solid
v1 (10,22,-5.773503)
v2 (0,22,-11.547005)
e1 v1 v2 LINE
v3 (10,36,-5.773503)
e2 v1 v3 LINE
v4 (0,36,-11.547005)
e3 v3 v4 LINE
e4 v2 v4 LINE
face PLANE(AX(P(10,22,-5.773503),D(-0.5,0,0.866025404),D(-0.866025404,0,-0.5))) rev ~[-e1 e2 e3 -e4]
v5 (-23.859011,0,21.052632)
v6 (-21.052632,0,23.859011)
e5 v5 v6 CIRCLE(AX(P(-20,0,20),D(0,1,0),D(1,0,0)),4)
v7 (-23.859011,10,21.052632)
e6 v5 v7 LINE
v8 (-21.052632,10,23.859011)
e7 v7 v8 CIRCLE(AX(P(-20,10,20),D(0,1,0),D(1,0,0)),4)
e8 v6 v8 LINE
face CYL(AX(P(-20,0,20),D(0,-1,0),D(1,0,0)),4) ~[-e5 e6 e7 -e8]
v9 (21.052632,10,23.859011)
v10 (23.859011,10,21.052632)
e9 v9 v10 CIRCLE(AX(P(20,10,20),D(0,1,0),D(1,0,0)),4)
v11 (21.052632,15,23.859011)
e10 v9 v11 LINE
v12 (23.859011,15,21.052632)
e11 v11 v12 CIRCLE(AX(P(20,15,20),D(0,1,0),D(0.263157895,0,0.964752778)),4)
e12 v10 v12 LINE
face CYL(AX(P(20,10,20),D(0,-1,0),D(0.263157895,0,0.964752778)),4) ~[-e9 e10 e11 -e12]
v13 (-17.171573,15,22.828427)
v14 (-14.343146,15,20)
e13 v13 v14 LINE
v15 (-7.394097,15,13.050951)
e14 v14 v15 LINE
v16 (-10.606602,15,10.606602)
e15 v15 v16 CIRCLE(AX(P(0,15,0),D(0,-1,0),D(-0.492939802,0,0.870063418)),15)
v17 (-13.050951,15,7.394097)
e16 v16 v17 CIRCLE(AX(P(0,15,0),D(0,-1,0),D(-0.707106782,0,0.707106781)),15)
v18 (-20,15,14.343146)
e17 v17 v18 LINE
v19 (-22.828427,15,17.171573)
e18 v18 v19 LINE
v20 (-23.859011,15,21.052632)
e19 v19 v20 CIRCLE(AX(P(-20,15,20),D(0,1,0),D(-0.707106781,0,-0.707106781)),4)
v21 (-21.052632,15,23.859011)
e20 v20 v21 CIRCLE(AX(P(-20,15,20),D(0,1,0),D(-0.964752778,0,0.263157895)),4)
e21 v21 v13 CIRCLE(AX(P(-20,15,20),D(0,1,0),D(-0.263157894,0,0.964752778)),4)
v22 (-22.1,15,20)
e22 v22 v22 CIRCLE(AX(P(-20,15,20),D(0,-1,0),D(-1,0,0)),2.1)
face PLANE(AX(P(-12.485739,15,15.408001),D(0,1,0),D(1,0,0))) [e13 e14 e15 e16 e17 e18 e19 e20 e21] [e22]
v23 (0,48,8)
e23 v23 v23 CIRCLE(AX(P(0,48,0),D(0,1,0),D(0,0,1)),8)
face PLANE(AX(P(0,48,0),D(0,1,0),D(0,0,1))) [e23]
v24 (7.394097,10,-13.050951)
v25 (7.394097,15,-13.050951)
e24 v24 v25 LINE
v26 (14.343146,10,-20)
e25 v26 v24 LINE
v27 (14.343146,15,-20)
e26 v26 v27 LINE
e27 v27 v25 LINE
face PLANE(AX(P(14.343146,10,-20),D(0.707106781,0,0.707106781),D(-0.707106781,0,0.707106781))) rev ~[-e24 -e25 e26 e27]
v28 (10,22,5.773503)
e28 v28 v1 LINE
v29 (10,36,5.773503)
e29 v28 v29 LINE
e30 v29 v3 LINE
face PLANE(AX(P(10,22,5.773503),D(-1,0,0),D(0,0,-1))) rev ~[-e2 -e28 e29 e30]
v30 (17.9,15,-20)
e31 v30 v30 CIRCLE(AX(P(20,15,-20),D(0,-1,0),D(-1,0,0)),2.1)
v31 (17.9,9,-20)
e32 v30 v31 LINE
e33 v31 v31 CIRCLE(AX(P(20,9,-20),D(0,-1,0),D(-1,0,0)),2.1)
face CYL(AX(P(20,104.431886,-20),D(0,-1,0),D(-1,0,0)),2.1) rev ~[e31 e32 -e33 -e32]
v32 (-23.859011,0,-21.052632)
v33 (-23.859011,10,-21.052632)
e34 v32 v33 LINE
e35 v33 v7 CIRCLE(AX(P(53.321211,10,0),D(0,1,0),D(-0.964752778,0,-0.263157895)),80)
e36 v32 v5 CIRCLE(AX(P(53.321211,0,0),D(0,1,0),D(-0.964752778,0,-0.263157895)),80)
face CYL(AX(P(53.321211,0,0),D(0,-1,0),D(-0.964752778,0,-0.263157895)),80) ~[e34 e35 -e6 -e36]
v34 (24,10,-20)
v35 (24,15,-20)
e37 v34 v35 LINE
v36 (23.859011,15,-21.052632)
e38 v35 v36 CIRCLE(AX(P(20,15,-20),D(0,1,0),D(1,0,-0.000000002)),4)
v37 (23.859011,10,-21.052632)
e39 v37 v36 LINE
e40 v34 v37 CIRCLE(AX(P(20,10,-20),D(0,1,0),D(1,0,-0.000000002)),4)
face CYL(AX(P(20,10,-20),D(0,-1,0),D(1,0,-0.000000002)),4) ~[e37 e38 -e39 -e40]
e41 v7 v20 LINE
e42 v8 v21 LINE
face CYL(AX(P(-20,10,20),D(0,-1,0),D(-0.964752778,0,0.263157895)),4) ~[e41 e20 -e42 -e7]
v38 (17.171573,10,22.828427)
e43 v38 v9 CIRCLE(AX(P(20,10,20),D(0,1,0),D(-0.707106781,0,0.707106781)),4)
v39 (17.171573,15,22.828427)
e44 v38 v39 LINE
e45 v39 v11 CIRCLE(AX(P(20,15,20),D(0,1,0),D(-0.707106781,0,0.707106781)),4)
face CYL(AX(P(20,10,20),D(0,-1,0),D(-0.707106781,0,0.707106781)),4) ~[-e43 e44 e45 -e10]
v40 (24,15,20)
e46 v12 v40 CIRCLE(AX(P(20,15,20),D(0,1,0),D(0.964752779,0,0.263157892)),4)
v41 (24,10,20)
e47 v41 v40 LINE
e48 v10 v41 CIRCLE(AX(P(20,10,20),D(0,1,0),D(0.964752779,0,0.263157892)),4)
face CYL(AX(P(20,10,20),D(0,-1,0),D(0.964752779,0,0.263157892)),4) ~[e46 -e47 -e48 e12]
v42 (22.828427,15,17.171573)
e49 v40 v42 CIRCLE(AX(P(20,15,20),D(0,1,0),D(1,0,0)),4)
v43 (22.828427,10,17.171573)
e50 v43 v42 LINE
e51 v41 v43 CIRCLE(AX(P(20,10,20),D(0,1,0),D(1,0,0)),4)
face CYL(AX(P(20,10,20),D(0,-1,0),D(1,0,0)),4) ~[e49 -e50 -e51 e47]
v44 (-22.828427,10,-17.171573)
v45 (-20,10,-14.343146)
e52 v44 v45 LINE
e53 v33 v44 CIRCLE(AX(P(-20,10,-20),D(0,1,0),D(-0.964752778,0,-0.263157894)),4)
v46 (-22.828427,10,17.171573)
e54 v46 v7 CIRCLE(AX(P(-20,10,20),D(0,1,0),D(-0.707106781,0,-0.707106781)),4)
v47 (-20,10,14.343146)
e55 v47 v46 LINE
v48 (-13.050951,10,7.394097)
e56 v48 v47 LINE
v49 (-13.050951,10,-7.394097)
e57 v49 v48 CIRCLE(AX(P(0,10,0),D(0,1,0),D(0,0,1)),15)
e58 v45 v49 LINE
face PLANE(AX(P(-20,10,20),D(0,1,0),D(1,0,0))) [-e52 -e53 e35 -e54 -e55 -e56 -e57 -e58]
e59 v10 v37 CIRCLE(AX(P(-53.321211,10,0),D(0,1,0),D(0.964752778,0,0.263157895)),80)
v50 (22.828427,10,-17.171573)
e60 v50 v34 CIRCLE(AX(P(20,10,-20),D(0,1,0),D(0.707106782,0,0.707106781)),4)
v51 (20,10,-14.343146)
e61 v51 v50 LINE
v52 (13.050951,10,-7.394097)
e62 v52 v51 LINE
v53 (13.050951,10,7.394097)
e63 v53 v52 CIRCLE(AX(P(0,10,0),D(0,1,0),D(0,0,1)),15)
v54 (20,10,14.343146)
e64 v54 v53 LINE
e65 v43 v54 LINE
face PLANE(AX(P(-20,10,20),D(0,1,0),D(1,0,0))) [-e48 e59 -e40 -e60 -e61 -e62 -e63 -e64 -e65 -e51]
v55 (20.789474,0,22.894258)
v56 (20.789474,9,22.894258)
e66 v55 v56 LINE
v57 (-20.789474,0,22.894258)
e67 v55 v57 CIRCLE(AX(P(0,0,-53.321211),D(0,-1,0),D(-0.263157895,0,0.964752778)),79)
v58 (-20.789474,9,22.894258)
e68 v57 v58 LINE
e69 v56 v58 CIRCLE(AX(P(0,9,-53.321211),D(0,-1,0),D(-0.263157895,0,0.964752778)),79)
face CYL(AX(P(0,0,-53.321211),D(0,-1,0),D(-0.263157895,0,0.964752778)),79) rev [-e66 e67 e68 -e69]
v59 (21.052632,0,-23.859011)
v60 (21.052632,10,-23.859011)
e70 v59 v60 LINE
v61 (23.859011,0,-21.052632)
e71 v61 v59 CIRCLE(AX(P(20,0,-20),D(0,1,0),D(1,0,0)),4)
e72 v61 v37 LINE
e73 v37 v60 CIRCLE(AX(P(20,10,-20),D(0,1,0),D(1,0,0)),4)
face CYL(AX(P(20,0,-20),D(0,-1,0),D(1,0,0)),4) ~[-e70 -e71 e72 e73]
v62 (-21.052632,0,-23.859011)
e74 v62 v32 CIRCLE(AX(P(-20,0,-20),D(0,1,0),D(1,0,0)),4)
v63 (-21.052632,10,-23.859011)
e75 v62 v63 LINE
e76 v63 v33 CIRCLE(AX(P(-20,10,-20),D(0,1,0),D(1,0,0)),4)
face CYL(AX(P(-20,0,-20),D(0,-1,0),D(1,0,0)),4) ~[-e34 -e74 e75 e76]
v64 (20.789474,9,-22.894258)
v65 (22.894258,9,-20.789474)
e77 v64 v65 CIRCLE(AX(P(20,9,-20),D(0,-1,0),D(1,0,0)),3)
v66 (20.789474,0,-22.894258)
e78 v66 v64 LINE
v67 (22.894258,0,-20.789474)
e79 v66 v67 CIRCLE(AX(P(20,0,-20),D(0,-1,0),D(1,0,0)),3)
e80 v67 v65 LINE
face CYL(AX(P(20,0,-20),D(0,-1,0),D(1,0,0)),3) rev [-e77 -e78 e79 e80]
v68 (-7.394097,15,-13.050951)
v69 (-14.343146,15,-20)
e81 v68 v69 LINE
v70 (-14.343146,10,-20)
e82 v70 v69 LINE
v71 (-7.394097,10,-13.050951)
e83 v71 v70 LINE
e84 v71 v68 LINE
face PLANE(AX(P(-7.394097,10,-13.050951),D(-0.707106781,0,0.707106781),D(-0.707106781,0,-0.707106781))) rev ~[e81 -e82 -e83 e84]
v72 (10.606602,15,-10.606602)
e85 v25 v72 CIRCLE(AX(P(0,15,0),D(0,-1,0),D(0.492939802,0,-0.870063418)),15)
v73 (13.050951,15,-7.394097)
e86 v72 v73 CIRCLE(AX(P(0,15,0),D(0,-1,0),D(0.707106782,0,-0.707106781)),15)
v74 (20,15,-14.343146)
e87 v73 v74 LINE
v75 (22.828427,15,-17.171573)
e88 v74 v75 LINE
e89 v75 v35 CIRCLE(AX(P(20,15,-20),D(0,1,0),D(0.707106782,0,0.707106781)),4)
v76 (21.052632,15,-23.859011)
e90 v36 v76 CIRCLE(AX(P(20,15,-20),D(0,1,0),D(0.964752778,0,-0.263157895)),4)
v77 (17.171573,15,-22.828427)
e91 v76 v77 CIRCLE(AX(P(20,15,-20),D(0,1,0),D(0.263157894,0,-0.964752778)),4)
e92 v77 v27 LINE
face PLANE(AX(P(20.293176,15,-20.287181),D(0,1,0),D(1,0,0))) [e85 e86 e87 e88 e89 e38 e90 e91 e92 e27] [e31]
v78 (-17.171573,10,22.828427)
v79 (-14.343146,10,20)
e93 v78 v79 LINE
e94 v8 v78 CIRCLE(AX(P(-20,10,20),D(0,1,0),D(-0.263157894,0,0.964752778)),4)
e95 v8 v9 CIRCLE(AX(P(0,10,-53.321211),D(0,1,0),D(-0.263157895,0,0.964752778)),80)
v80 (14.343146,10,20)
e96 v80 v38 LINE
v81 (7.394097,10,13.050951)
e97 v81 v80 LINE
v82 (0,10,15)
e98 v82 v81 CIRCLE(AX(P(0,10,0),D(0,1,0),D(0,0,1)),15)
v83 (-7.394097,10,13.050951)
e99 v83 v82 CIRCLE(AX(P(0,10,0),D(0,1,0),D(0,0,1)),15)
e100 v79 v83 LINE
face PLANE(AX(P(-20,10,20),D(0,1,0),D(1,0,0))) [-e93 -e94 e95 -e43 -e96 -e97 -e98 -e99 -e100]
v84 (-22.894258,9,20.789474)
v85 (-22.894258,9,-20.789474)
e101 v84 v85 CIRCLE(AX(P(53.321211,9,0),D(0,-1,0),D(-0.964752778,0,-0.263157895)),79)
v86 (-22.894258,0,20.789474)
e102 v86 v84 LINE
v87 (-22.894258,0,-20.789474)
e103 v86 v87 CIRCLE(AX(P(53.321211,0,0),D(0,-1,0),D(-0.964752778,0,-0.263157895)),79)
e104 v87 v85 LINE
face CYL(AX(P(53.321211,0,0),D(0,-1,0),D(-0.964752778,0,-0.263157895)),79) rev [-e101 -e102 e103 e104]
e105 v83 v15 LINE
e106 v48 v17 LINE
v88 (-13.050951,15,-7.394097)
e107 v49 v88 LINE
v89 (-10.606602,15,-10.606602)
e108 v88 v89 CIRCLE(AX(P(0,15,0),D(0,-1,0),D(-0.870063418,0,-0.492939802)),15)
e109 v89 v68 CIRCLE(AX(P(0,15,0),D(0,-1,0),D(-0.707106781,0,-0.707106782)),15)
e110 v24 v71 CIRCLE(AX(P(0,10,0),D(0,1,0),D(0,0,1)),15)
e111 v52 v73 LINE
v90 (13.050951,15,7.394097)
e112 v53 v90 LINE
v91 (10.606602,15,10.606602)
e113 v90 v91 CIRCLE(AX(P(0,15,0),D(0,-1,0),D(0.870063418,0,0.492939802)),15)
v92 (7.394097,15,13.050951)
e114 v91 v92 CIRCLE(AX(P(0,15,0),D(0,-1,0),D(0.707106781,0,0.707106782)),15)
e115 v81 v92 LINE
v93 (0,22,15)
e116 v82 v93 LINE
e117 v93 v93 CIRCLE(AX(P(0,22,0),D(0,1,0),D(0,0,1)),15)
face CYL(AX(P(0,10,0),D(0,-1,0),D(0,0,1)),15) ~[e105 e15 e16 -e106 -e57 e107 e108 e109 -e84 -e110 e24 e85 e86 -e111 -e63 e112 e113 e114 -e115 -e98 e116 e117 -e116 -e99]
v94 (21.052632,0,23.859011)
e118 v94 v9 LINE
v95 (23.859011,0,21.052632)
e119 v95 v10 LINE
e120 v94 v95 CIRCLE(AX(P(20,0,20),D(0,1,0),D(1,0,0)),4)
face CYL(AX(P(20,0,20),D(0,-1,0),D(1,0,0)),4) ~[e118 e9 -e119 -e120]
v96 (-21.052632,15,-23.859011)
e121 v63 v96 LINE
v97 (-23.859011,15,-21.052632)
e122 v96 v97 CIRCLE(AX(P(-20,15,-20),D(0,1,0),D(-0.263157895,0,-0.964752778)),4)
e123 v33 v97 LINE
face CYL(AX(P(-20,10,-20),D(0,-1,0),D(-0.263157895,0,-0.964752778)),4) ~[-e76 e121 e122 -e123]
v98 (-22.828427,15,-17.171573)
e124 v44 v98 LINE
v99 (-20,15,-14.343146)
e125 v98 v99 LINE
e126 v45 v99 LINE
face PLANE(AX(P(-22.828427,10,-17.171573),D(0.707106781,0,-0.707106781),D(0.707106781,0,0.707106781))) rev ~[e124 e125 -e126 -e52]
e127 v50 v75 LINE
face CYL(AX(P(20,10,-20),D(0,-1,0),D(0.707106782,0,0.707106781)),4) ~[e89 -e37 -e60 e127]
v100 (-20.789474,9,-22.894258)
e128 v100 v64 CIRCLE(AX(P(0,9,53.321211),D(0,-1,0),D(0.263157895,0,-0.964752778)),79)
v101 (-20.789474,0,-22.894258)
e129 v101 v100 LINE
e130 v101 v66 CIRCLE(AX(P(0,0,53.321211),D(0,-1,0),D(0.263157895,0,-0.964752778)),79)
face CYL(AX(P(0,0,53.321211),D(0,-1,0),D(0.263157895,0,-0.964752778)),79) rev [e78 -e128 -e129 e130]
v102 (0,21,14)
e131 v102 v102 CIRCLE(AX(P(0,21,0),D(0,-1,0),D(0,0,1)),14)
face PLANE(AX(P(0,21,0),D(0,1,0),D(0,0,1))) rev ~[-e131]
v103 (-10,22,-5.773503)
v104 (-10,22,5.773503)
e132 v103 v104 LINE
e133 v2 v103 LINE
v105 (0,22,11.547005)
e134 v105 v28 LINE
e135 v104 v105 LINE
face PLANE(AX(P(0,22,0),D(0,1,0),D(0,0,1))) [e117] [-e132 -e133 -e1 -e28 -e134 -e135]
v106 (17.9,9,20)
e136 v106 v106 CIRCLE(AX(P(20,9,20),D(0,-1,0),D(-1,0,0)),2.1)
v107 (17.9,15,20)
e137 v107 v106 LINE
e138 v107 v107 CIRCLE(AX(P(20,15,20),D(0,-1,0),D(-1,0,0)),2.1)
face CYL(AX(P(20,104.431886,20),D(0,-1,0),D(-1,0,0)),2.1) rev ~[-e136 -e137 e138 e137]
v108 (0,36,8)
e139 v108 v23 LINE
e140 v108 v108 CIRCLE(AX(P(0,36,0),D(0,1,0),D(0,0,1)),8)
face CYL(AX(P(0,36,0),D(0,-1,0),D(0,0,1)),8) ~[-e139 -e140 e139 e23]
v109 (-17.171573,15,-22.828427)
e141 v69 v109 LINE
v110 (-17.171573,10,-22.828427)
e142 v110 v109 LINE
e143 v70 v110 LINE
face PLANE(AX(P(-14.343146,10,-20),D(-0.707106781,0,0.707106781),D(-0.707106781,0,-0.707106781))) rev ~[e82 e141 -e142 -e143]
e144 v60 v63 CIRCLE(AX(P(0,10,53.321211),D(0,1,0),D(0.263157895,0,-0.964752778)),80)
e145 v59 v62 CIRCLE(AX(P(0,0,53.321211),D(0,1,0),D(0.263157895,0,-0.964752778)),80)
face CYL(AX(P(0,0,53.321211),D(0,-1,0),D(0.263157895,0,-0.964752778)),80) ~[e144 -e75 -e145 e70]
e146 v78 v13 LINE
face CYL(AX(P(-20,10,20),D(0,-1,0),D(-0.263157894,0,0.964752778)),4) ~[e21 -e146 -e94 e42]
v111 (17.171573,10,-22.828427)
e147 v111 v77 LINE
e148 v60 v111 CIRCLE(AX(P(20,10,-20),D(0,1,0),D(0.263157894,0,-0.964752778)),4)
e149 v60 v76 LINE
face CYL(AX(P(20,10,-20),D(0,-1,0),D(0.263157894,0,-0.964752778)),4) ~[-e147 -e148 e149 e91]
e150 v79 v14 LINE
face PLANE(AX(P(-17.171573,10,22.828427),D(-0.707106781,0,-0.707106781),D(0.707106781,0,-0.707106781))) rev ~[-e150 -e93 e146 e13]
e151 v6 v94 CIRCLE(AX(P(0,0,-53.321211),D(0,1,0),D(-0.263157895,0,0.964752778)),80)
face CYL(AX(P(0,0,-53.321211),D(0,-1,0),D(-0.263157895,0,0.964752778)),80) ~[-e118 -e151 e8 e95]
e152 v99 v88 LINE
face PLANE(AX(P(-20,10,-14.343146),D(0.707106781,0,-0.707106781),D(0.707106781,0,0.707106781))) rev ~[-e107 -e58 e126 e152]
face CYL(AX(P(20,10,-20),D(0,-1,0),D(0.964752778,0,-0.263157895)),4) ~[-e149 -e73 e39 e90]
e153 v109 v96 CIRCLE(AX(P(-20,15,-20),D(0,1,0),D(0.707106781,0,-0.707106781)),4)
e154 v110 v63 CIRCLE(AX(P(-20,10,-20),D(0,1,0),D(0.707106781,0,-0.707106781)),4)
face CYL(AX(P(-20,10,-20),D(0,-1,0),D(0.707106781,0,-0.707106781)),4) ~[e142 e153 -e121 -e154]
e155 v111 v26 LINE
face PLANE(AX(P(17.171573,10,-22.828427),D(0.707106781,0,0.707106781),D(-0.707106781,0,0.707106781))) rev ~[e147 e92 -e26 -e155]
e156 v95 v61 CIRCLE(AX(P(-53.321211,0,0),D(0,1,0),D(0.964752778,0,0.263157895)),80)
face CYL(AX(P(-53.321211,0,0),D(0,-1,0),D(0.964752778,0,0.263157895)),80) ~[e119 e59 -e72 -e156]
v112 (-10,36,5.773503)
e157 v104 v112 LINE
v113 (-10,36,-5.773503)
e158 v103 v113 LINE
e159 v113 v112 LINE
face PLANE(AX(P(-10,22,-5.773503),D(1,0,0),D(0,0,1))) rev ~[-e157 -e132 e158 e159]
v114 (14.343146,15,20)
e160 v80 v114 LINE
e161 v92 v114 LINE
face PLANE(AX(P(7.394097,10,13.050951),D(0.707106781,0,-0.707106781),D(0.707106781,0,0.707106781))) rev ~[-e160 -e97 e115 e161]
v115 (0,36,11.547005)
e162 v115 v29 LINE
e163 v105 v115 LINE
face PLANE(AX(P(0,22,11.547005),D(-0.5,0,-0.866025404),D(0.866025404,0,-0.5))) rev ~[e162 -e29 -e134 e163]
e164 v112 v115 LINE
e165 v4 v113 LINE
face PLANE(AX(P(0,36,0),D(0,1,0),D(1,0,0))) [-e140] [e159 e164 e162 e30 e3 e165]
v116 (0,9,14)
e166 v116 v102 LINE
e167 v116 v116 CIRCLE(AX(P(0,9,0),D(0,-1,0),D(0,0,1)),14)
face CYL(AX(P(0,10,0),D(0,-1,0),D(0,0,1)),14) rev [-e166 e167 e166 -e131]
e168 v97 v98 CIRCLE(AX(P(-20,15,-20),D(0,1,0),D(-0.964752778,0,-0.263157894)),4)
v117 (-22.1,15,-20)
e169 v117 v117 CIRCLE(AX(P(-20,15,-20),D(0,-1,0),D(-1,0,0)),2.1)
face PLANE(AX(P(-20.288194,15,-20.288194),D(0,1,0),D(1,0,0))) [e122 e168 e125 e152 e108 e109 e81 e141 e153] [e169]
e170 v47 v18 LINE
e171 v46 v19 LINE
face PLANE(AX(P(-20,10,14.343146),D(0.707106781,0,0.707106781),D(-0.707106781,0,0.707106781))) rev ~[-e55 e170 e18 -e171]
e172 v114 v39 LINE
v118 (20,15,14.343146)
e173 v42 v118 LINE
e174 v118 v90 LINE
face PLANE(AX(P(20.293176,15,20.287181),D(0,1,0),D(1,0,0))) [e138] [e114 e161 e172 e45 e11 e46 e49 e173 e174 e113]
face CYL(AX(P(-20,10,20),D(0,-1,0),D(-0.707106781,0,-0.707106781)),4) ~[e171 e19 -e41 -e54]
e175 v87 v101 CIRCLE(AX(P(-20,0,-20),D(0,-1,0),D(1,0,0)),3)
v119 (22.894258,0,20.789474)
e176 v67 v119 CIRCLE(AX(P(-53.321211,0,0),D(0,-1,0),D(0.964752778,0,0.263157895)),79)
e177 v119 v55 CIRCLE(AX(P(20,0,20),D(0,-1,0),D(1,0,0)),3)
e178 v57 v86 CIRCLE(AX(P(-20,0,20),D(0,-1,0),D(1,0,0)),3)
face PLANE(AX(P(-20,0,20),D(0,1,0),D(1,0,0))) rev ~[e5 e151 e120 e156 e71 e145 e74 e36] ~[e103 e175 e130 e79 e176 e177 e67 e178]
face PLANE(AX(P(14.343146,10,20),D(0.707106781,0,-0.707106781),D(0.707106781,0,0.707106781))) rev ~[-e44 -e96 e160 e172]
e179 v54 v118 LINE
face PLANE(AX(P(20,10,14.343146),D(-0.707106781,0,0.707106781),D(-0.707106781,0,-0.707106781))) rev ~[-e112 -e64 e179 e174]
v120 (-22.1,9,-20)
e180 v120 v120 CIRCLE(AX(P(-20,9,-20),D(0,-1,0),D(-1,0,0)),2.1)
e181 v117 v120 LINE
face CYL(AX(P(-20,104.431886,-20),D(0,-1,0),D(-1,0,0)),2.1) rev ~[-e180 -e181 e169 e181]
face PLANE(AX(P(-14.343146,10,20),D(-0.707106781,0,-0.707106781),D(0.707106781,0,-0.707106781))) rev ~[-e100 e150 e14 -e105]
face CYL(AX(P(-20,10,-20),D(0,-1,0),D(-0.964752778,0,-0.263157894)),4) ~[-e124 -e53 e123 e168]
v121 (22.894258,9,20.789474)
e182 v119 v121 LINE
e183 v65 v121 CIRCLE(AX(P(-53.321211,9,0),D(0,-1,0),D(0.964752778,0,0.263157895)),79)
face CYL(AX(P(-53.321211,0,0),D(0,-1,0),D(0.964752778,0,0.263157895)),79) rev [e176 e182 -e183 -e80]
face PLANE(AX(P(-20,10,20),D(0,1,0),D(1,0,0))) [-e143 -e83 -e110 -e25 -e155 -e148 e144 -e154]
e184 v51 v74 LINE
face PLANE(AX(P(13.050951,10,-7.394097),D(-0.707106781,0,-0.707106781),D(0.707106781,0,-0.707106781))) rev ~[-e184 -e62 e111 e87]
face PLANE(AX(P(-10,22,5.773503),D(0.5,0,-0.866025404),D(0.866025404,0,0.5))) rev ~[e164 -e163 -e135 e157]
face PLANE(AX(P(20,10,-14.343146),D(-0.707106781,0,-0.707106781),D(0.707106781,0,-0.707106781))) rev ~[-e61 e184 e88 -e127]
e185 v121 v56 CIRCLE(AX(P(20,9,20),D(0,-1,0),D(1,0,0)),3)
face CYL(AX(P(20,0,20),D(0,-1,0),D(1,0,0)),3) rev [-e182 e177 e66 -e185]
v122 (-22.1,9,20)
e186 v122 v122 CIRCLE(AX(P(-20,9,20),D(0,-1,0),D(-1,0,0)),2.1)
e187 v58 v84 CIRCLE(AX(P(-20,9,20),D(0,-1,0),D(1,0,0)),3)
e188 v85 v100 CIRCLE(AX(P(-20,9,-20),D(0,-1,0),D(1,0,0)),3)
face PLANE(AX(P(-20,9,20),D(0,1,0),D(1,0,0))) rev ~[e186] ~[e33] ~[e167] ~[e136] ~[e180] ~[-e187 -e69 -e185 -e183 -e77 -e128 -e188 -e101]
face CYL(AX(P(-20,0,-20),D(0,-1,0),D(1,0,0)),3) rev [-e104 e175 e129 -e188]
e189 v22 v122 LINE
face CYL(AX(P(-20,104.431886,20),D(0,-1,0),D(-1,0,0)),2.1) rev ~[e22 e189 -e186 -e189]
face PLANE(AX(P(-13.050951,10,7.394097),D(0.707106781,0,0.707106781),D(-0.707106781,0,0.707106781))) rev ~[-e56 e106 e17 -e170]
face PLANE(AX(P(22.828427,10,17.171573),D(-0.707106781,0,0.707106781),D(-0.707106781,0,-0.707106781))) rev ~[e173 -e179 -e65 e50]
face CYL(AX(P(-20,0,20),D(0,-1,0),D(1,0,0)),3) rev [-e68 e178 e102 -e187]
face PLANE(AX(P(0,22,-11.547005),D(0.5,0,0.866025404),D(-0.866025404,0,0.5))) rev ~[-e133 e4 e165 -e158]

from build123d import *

# Parameters (mm, degrees)
SKETCH3_R             = 4
BOSS_EXTRUDE2_DEPTH   = 10
SKETCH4_R             = 15
BOSS_EXTRUDE3_DEPTH   = 12
SHELL2_T              = -1
BOSS_EXTRUDE4_DEPTH   = 14
SKETCH6_R             = 8
BOSS_EXTRUDE5_DEPTH   = 12
BOSS_EXTRUDE6_DEPTH   = 5
M5X0_8_TAPPED_HOLE1_D = 4.2


with BuildPart() as part:
    # Sketch3 → Boss-Extrude2 (new body)
    with BuildSketch(Plane(origin=(0, 0, 0), x_dir=(1, 0, 0), z_dir=(0, 1, 0))):
        with Locations((-20, -20)):
            Circle(SKETCH3_R)
        with BuildLine():
            ThreePointArc((23.859011112, 21.052631579), (23.964596098, 20.531015797), (24, 20))
            ThreePointArc((24, 20), (16.821122343, 17.572092085), (21.052631579, 23.859011112))
            ThreePointArc((21.052631579, 23.859011112), (0, 26.678788881), (-21.052631579, 23.859011112))
            ThreePointArc((-21.052631579, 23.859011112), (-17.572092085, 23.178877657), (-16, 20))
            ThreePointArc((-16, 20), (-20.531015797, 16.035403902), (-23.859011112, 21.052631579))
            ThreePointArc((-23.859011112, 21.052631579), (-26.678788881, 0), (-23.859011112, -21.052631579))
            ThreePointArc((-23.859011112, -21.052631579), (-20.531015797, -16.035403902), (-16, -20))
            ThreePointArc((-16, -20), (-17.572092085, -23.178877657), (-21.052631579, -23.859011112))
            ThreePointArc((-21.052631579, -23.859011112), (0, -26.678788881), (21.052631579, -23.859011112))
            ThreePointArc((21.052631579, -23.859011112), (16.821122343, -17.572092085), (24, -20))
            ThreePointArc((24, -20), (23.964596098, -20.531015797), (23.859011112, -21.052631579))
            ThreePointArc((23.859011112, -21.052631579), (26.678788881, 0), (23.859011112, 21.052631579))
        make_face()
        with Locations((-20, 20)):
            Circle(SKETCH3_R)
        with Locations((20, -20)):
            Circle(SKETCH3_R)
        with Locations((20, 20)):
            Circle(SKETCH3_R)
    extrude(amount=BOSS_EXTRUDE2_DEPTH)

    # Sketch4 → Boss-Extrude3 (add)
    with BuildSketch(Plane(origin=(0, 10, 0), x_dir=(1, 0, 0), z_dir=(0, 1, 0))):
        with Locations(Location((0, 0, 0), (0, 0, 270))):
            Circle(SKETCH4_R)
    extrude(amount=BOSS_EXTRUDE3_DEPTH)

    # Shell2
    shell2_openings = [part.faces().sort_by_distance(p)[0] for p in [
        (0, 0, 0),
    ]]
    offset(amount=SHELL2_T, openings=shell2_openings, kind=Kind.INTERSECTION)

    # Sketch5 → Boss-Extrude4 (add)
    with BuildSketch(Plane(origin=(0, 22, 0), x_dir=(1, 0, 0), z_dir=(0, 1, 0))):
        Polygon((0, 11.547005384), (-10, 5.773502692), (-10, -5.773502692), (0, -11.547005384), (10, -5.773502692), (10, 5.773502692), align=None)
    extrude(amount=BOSS_EXTRUDE4_DEPTH)

    # Sketch6 → Boss-Extrude5 (add)
    with BuildSketch(Plane(origin=(0, 36, 0), x_dir=(1, 0, 0), z_dir=(0, 1, 0))):
        with Locations(Location((0, 0, 0), (0, 0, 270))):
            Circle(SKETCH6_R)
    extrude(amount=BOSS_EXTRUDE5_DEPTH)

    # Sketch7 → Boss-Extrude6 (add)
    with BuildSketch(Plane(origin=(0, 10, 0), x_dir=(1, 0, 0), z_dir=(0, 1, 0))):
        with BuildLine():
            ThreePointArc((23.859011112, 21.052631579), (22.828427125, 22.828427125), (21.052631579, 23.859011112))
            ThreePointArc((21.052631579, 23.859011112), (18.973409384, 23.866020138), (17.171572875, 22.828427125))
            ThreePointArc((17.171572875, 22.828427125), (16.30448187, 21.530733729), (16, 20))
            Line((16, 20), (20, 20))
            Line((20, 20), (20, 16))
            ThreePointArc((20, 16), (21.530733729, 16.30448187), (22.828427125, 17.171572875))
            ThreePointArc((22.828427125, 17.171572875), (23.69551813, 18.469266271), (24, 20))
            ThreePointArc((24, 20), (23.964596098, 20.531015797), (23.859011112, 21.052631579))
        make_face()
        with BuildLine():
            Line((20, 20), (16, 20))
            ThreePointArc((16, 20), (16.30448187, 18.469266271), (17.171572875, 17.171572875))
            Line((17.171572875, 17.171572875), (20, 20))
        make_face()
        with BuildLine():
            Line((20, 16), (20, 20))
            Line((20, 20), (17.171572875, 17.171572875))
            ThreePointArc((17.171572875, 17.171572875), (18.469266271, 16.30448187), (20, 16))
        make_face()
        with BuildLine():
            Line((17.171572875, 17.171572875), (10.606601718, 10.606601718))
            ThreePointArc((10.606601718, 10.606601718), (11.937336386, 9.082951062), (13.050951275, 7.394097025))
            Line((13.050951275, 7.394097025), (20, 14.343145751))
            Line((20, 14.343145751), (20, 16))
            ThreePointArc((20, 16), (18.469266271, 16.30448187), (17.171572875, 17.171572875))
        make_face()
        with BuildLine():
            Line((16, 20), (14.343145751, 20))
            Line((14.343145751, 20), (7.394097025, 13.050951275))
            ThreePointArc((7.394097025, 13.050951275), (9.082951062, 11.937336386), (10.606601718, 10.606601718))
            Line((10.606601718, 10.606601718), (17.171572875, 17.171572875))
            ThreePointArc((17.171572875, 17.171572875), (16.30448187, 18.469266271), (16, 20))
        make_face()
        with BuildLine():
            ThreePointArc((-7.394097025, -13.050951275), (-9.082951062, -11.937336386), (-10.606601718, -10.606601718))
            Line((-10.606601718, -10.606601718), (-17.171572875, -17.171572875))
            ThreePointArc((-17.171572875, -17.171572875), (-16.30448187, -18.469266271), (-16, -20))
            Line((-16, -20), (-14.343145751, -20))
            Line((-14.343145751, -20), (-7.394097025, -13.050951275))
        make_face()
        with BuildLine():
            Line((-17.171572875, -17.171572875), (-10.606601718, -10.606601718))
            ThreePointArc((-10.606601718, -10.606601718), (-11.937336386, -9.082951062), (-13.050951275, -7.394097025))
            Line((-13.050951275, -7.394097025), (-20, -14.343145751))
            Line((-20, -14.343145751), (-20, -16))
            ThreePointArc((-20, -16), (-18.469266271, -16.30448187), (-17.171572875, -17.171572875))
        make_face()
        with BuildLine():
            ThreePointArc((-16, -20), (-16.30448187, -18.469266271), (-17.171572875, -17.171572875))
            Line((-17.171572875, -17.171572875), (-20, -20))
            Line((-20, -20), (-16, -20))
        make_face()
        with BuildLine():
            Line((-20, -20), (-17.171572875, -17.171572875))
            ThreePointArc((-17.171572875, -17.171572875), (-18.469266271, -16.30448187), (-20, -16))
            Line((-20, -16), (-20, -20))
        make_face()
        with BuildLine():
            ThreePointArc((-22.828427125, -17.171572875), (-23.866020138, -18.973409384), (-23.859011112, -21.052631579))
            ThreePointArc((-23.859011112, -21.052631579), (-22.828427125, -22.828427125), (-21.052631579, -23.859011112))
            ThreePointArc((-21.052631579, -23.859011112), (-18.973409384, -23.866020138), (-17.171572875, -22.828427125))
            ThreePointArc((-17.171572875, -22.828427125), (-16.30448187, -21.530733729), (-16, -20))
            Line((-16, -20), (-20, -20))
            Line((-20, -20), (-20, -16))
            ThreePointArc((-20, -16), (-21.530733729, -16.30448187), (-22.828427125, -17.171572875))
        make_face()
        with BuildLine():
            ThreePointArc((21.052631579, -23.859011112), (22.828427125, -22.828427125), (23.859011112, -21.052631579))
            ThreePointArc((23.859011112, -21.052631579), (23.964596098, -20.531015797), (24, -20))
            ThreePointArc((24, -20), (23.69551813, -18.469266271), (22.828427125, -17.171572875))
            ThreePointArc((22.828427125, -17.171572875), (21.530733729, -16.30448187), (20, -16))
            Line((20, -16), (20, -20))
            Line((20, -20), (16, -20))
            ThreePointArc((16, -20), (16.30448187, -21.530733729), (17.171572875, -22.828427125))
            ThreePointArc((17.171572875, -22.828427125), (18.973409384, -23.866020138), (21.052631579, -23.859011112))
        make_face()
        with BuildLine():
            Line((20, -20), (17.171572875, -17.171572875))
            ThreePointArc((17.171572875, -17.171572875), (16.30448187, -18.469266271), (16, -20))
            Line((16, -20), (20, -20))
        make_face()
        with BuildLine():
            ThreePointArc((20, -16), (18.469266271, -16.30448187), (17.171572875, -17.171572875))
            Line((17.171572875, -17.171572875), (20, -20))
            Line((20, -20), (20, -16))
        make_face()
        with BuildLine():
            ThreePointArc((13.050951275, -7.394097025), (11.937336386, -9.082951062), (10.606601718, -10.606601718))
            Line((10.606601718, -10.606601718), (17.171572875, -17.171572875))
            ThreePointArc((17.171572875, -17.171572875), (18.469266271, -16.30448187), (20, -16))
            Line((20, -16), (20, -14.343145751))
            Line((20, -14.343145751), (13.050951275, -7.394097025))
        make_face()
        with BuildLine():
            Line((17.171572875, -17.171572875), (10.606601718, -10.606601718))
            ThreePointArc((10.606601718, -10.606601718), (9.082951062, -11.937336386), (7.394097025, -13.050951275))
            Line((7.394097025, -13.050951275), (14.343145751, -20))
            Line((14.343145751, -20), (16, -20))
            ThreePointArc((16, -20), (16.30448187, -18.469266271), (17.171572875, -17.171572875))
        make_face()
        with BuildLine():
            Line((17.171572875, 22.828427125), (14.343145751, 20))
            Line((14.343145751, 20), (16, 20))
            ThreePointArc((16, 20), (16.30448187, 21.530733729), (17.171572875, 22.828427125))
        make_face()
        with BuildLine():
            ThreePointArc((22.828427125, 17.171572875), (21.530733729, 16.30448187), (20, 16))
            Line((20, 16), (20, 14.343145751))
            Line((20, 14.343145751), (22.828427125, 17.171572875))
        make_face()
        with BuildLine():
            ThreePointArc((-16, 20), (-16.30448187, 21.530733729), (-17.171572875, 22.828427125))
            ThreePointArc((-17.171572875, 22.828427125), (-18.973409384, 23.866020138), (-21.052631579, 23.859011112))
            ThreePointArc((-21.052631579, 23.859011112), (-22.828427125, 22.828427125), (-23.859011112, 21.052631579))
            ThreePointArc((-23.859011112, 21.052631579), (-23.866020138, 18.973409384), (-22.828427125, 17.171572875))
            ThreePointArc((-22.828427125, 17.171572875), (-21.530733729, 16.30448187), (-20, 16))
            Line((-20, 16), (-20, 20))
            Line((-20, 20), (-16, 20))
        make_face()
        with BuildLine():
            Line((-20, 14.343145751), (-20, 16))
            ThreePointArc((-20, 16), (-21.530733729, 16.30448187), (-22.828427125, 17.171572875))
            Line((-22.828427125, 17.171572875), (-20, 14.343145751))
        make_face()
        with BuildLine():
            Line((-17.171572875, 17.171572875), (-20, 20))
            Line((-20, 20), (-20, 16))
            ThreePointArc((-20, 16), (-18.469266271, 16.30448187), (-17.171572875, 17.171572875))
        make_face()
        with BuildLine():
            ThreePointArc((-17.171572875, 17.171572875), (-16.30448187, 18.469266271), (-16, 20))
            Line((-16, 20), (-20, 20))
            Line((-20, 20), (-17.171572875, 17.171572875))
        make_face()
        with BuildLine():
            Line((-14.343145751, 20), (-17.171572875, 22.828427125))
            ThreePointArc((-17.171572875, 22.828427125), (-16.30448187, 21.530733729), (-16, 20))
            Line((-16, 20), (-14.343145751, 20))
        make_face()
        with BuildLine():
            Line((-7.394097025, 13.050951275), (-14.343145751, 20))
            Line((-14.343145751, 20), (-16, 20))
            ThreePointArc((-16, 20), (-16.30448187, 18.469266271), (-17.171572875, 17.171572875))
            Line((-17.171572875, 17.171572875), (-10.606601718, 10.606601718))
            ThreePointArc((-10.606601718, 10.606601718), (-9.082951062, 11.937336386), (-7.394097025, 13.050951275))
        make_face()
        with BuildLine():
            Line((-10.606601718, 10.606601718), (-17.171572875, 17.171572875))
            ThreePointArc((-17.171572875, 17.171572875), (-18.469266271, 16.30448187), (-20, 16))
            Line((-20, 16), (-20, 14.343145751))
            Line((-20, 14.343145751), (-13.050951275, 7.394097025))
            ThreePointArc((-13.050951275, 7.394097025), (-11.937336386, 9.082951062), (-10.606601718, 10.606601718))
        make_face()
        with BuildLine():
            ThreePointArc((-16, -20), (-16.30448187, -21.530733729), (-17.171572875, -22.828427125))
            Line((-17.171572875, -22.828427125), (-14.343145751, -20))
            Line((-14.343145751, -20), (-16, -20))
        make_face()
        with BuildLine():
            Line((-20, -16), (-20, -14.343145751))
            Line((-20, -14.343145751), (-22.828427125, -17.171572875))
            ThreePointArc((-22.828427125, -17.171572875), (-21.530733729, -16.30448187), (-20, -16))
        make_face()
        with BuildLine():
            Line((16, -20), (14.343145751, -20))
            Line((14.343145751, -20), (17.171572875, -22.828427125))
            ThreePointArc((17.171572875, -22.828427125), (16.30448187, -21.530733729), (16, -20))
        make_face()
        with BuildLine():
            Line((22.828427125, -17.171572875), (20, -14.343145751))
            Line((20, -14.343145751), (20, -16))
            ThreePointArc((20, -16), (21.530733729, -16.30448187), (22.828427125, -17.171572875))
        make_face()
    extrude(amount=BOSS_EXTRUDE6_DEPTH)

    # M5x0.8 Tapped Hole1 (through all)
    with Locations(Plane(origin=(0, 15, 0), x_dir=(1, 0, 0), z_dir=(0, 1, 0))):
        with Locations((20, -20), (20, 20), (-20, 20), (-20, -20)):
            Hole(M5X0_8_TAPPED_HOLE1_D / 2)


solid = part.part
